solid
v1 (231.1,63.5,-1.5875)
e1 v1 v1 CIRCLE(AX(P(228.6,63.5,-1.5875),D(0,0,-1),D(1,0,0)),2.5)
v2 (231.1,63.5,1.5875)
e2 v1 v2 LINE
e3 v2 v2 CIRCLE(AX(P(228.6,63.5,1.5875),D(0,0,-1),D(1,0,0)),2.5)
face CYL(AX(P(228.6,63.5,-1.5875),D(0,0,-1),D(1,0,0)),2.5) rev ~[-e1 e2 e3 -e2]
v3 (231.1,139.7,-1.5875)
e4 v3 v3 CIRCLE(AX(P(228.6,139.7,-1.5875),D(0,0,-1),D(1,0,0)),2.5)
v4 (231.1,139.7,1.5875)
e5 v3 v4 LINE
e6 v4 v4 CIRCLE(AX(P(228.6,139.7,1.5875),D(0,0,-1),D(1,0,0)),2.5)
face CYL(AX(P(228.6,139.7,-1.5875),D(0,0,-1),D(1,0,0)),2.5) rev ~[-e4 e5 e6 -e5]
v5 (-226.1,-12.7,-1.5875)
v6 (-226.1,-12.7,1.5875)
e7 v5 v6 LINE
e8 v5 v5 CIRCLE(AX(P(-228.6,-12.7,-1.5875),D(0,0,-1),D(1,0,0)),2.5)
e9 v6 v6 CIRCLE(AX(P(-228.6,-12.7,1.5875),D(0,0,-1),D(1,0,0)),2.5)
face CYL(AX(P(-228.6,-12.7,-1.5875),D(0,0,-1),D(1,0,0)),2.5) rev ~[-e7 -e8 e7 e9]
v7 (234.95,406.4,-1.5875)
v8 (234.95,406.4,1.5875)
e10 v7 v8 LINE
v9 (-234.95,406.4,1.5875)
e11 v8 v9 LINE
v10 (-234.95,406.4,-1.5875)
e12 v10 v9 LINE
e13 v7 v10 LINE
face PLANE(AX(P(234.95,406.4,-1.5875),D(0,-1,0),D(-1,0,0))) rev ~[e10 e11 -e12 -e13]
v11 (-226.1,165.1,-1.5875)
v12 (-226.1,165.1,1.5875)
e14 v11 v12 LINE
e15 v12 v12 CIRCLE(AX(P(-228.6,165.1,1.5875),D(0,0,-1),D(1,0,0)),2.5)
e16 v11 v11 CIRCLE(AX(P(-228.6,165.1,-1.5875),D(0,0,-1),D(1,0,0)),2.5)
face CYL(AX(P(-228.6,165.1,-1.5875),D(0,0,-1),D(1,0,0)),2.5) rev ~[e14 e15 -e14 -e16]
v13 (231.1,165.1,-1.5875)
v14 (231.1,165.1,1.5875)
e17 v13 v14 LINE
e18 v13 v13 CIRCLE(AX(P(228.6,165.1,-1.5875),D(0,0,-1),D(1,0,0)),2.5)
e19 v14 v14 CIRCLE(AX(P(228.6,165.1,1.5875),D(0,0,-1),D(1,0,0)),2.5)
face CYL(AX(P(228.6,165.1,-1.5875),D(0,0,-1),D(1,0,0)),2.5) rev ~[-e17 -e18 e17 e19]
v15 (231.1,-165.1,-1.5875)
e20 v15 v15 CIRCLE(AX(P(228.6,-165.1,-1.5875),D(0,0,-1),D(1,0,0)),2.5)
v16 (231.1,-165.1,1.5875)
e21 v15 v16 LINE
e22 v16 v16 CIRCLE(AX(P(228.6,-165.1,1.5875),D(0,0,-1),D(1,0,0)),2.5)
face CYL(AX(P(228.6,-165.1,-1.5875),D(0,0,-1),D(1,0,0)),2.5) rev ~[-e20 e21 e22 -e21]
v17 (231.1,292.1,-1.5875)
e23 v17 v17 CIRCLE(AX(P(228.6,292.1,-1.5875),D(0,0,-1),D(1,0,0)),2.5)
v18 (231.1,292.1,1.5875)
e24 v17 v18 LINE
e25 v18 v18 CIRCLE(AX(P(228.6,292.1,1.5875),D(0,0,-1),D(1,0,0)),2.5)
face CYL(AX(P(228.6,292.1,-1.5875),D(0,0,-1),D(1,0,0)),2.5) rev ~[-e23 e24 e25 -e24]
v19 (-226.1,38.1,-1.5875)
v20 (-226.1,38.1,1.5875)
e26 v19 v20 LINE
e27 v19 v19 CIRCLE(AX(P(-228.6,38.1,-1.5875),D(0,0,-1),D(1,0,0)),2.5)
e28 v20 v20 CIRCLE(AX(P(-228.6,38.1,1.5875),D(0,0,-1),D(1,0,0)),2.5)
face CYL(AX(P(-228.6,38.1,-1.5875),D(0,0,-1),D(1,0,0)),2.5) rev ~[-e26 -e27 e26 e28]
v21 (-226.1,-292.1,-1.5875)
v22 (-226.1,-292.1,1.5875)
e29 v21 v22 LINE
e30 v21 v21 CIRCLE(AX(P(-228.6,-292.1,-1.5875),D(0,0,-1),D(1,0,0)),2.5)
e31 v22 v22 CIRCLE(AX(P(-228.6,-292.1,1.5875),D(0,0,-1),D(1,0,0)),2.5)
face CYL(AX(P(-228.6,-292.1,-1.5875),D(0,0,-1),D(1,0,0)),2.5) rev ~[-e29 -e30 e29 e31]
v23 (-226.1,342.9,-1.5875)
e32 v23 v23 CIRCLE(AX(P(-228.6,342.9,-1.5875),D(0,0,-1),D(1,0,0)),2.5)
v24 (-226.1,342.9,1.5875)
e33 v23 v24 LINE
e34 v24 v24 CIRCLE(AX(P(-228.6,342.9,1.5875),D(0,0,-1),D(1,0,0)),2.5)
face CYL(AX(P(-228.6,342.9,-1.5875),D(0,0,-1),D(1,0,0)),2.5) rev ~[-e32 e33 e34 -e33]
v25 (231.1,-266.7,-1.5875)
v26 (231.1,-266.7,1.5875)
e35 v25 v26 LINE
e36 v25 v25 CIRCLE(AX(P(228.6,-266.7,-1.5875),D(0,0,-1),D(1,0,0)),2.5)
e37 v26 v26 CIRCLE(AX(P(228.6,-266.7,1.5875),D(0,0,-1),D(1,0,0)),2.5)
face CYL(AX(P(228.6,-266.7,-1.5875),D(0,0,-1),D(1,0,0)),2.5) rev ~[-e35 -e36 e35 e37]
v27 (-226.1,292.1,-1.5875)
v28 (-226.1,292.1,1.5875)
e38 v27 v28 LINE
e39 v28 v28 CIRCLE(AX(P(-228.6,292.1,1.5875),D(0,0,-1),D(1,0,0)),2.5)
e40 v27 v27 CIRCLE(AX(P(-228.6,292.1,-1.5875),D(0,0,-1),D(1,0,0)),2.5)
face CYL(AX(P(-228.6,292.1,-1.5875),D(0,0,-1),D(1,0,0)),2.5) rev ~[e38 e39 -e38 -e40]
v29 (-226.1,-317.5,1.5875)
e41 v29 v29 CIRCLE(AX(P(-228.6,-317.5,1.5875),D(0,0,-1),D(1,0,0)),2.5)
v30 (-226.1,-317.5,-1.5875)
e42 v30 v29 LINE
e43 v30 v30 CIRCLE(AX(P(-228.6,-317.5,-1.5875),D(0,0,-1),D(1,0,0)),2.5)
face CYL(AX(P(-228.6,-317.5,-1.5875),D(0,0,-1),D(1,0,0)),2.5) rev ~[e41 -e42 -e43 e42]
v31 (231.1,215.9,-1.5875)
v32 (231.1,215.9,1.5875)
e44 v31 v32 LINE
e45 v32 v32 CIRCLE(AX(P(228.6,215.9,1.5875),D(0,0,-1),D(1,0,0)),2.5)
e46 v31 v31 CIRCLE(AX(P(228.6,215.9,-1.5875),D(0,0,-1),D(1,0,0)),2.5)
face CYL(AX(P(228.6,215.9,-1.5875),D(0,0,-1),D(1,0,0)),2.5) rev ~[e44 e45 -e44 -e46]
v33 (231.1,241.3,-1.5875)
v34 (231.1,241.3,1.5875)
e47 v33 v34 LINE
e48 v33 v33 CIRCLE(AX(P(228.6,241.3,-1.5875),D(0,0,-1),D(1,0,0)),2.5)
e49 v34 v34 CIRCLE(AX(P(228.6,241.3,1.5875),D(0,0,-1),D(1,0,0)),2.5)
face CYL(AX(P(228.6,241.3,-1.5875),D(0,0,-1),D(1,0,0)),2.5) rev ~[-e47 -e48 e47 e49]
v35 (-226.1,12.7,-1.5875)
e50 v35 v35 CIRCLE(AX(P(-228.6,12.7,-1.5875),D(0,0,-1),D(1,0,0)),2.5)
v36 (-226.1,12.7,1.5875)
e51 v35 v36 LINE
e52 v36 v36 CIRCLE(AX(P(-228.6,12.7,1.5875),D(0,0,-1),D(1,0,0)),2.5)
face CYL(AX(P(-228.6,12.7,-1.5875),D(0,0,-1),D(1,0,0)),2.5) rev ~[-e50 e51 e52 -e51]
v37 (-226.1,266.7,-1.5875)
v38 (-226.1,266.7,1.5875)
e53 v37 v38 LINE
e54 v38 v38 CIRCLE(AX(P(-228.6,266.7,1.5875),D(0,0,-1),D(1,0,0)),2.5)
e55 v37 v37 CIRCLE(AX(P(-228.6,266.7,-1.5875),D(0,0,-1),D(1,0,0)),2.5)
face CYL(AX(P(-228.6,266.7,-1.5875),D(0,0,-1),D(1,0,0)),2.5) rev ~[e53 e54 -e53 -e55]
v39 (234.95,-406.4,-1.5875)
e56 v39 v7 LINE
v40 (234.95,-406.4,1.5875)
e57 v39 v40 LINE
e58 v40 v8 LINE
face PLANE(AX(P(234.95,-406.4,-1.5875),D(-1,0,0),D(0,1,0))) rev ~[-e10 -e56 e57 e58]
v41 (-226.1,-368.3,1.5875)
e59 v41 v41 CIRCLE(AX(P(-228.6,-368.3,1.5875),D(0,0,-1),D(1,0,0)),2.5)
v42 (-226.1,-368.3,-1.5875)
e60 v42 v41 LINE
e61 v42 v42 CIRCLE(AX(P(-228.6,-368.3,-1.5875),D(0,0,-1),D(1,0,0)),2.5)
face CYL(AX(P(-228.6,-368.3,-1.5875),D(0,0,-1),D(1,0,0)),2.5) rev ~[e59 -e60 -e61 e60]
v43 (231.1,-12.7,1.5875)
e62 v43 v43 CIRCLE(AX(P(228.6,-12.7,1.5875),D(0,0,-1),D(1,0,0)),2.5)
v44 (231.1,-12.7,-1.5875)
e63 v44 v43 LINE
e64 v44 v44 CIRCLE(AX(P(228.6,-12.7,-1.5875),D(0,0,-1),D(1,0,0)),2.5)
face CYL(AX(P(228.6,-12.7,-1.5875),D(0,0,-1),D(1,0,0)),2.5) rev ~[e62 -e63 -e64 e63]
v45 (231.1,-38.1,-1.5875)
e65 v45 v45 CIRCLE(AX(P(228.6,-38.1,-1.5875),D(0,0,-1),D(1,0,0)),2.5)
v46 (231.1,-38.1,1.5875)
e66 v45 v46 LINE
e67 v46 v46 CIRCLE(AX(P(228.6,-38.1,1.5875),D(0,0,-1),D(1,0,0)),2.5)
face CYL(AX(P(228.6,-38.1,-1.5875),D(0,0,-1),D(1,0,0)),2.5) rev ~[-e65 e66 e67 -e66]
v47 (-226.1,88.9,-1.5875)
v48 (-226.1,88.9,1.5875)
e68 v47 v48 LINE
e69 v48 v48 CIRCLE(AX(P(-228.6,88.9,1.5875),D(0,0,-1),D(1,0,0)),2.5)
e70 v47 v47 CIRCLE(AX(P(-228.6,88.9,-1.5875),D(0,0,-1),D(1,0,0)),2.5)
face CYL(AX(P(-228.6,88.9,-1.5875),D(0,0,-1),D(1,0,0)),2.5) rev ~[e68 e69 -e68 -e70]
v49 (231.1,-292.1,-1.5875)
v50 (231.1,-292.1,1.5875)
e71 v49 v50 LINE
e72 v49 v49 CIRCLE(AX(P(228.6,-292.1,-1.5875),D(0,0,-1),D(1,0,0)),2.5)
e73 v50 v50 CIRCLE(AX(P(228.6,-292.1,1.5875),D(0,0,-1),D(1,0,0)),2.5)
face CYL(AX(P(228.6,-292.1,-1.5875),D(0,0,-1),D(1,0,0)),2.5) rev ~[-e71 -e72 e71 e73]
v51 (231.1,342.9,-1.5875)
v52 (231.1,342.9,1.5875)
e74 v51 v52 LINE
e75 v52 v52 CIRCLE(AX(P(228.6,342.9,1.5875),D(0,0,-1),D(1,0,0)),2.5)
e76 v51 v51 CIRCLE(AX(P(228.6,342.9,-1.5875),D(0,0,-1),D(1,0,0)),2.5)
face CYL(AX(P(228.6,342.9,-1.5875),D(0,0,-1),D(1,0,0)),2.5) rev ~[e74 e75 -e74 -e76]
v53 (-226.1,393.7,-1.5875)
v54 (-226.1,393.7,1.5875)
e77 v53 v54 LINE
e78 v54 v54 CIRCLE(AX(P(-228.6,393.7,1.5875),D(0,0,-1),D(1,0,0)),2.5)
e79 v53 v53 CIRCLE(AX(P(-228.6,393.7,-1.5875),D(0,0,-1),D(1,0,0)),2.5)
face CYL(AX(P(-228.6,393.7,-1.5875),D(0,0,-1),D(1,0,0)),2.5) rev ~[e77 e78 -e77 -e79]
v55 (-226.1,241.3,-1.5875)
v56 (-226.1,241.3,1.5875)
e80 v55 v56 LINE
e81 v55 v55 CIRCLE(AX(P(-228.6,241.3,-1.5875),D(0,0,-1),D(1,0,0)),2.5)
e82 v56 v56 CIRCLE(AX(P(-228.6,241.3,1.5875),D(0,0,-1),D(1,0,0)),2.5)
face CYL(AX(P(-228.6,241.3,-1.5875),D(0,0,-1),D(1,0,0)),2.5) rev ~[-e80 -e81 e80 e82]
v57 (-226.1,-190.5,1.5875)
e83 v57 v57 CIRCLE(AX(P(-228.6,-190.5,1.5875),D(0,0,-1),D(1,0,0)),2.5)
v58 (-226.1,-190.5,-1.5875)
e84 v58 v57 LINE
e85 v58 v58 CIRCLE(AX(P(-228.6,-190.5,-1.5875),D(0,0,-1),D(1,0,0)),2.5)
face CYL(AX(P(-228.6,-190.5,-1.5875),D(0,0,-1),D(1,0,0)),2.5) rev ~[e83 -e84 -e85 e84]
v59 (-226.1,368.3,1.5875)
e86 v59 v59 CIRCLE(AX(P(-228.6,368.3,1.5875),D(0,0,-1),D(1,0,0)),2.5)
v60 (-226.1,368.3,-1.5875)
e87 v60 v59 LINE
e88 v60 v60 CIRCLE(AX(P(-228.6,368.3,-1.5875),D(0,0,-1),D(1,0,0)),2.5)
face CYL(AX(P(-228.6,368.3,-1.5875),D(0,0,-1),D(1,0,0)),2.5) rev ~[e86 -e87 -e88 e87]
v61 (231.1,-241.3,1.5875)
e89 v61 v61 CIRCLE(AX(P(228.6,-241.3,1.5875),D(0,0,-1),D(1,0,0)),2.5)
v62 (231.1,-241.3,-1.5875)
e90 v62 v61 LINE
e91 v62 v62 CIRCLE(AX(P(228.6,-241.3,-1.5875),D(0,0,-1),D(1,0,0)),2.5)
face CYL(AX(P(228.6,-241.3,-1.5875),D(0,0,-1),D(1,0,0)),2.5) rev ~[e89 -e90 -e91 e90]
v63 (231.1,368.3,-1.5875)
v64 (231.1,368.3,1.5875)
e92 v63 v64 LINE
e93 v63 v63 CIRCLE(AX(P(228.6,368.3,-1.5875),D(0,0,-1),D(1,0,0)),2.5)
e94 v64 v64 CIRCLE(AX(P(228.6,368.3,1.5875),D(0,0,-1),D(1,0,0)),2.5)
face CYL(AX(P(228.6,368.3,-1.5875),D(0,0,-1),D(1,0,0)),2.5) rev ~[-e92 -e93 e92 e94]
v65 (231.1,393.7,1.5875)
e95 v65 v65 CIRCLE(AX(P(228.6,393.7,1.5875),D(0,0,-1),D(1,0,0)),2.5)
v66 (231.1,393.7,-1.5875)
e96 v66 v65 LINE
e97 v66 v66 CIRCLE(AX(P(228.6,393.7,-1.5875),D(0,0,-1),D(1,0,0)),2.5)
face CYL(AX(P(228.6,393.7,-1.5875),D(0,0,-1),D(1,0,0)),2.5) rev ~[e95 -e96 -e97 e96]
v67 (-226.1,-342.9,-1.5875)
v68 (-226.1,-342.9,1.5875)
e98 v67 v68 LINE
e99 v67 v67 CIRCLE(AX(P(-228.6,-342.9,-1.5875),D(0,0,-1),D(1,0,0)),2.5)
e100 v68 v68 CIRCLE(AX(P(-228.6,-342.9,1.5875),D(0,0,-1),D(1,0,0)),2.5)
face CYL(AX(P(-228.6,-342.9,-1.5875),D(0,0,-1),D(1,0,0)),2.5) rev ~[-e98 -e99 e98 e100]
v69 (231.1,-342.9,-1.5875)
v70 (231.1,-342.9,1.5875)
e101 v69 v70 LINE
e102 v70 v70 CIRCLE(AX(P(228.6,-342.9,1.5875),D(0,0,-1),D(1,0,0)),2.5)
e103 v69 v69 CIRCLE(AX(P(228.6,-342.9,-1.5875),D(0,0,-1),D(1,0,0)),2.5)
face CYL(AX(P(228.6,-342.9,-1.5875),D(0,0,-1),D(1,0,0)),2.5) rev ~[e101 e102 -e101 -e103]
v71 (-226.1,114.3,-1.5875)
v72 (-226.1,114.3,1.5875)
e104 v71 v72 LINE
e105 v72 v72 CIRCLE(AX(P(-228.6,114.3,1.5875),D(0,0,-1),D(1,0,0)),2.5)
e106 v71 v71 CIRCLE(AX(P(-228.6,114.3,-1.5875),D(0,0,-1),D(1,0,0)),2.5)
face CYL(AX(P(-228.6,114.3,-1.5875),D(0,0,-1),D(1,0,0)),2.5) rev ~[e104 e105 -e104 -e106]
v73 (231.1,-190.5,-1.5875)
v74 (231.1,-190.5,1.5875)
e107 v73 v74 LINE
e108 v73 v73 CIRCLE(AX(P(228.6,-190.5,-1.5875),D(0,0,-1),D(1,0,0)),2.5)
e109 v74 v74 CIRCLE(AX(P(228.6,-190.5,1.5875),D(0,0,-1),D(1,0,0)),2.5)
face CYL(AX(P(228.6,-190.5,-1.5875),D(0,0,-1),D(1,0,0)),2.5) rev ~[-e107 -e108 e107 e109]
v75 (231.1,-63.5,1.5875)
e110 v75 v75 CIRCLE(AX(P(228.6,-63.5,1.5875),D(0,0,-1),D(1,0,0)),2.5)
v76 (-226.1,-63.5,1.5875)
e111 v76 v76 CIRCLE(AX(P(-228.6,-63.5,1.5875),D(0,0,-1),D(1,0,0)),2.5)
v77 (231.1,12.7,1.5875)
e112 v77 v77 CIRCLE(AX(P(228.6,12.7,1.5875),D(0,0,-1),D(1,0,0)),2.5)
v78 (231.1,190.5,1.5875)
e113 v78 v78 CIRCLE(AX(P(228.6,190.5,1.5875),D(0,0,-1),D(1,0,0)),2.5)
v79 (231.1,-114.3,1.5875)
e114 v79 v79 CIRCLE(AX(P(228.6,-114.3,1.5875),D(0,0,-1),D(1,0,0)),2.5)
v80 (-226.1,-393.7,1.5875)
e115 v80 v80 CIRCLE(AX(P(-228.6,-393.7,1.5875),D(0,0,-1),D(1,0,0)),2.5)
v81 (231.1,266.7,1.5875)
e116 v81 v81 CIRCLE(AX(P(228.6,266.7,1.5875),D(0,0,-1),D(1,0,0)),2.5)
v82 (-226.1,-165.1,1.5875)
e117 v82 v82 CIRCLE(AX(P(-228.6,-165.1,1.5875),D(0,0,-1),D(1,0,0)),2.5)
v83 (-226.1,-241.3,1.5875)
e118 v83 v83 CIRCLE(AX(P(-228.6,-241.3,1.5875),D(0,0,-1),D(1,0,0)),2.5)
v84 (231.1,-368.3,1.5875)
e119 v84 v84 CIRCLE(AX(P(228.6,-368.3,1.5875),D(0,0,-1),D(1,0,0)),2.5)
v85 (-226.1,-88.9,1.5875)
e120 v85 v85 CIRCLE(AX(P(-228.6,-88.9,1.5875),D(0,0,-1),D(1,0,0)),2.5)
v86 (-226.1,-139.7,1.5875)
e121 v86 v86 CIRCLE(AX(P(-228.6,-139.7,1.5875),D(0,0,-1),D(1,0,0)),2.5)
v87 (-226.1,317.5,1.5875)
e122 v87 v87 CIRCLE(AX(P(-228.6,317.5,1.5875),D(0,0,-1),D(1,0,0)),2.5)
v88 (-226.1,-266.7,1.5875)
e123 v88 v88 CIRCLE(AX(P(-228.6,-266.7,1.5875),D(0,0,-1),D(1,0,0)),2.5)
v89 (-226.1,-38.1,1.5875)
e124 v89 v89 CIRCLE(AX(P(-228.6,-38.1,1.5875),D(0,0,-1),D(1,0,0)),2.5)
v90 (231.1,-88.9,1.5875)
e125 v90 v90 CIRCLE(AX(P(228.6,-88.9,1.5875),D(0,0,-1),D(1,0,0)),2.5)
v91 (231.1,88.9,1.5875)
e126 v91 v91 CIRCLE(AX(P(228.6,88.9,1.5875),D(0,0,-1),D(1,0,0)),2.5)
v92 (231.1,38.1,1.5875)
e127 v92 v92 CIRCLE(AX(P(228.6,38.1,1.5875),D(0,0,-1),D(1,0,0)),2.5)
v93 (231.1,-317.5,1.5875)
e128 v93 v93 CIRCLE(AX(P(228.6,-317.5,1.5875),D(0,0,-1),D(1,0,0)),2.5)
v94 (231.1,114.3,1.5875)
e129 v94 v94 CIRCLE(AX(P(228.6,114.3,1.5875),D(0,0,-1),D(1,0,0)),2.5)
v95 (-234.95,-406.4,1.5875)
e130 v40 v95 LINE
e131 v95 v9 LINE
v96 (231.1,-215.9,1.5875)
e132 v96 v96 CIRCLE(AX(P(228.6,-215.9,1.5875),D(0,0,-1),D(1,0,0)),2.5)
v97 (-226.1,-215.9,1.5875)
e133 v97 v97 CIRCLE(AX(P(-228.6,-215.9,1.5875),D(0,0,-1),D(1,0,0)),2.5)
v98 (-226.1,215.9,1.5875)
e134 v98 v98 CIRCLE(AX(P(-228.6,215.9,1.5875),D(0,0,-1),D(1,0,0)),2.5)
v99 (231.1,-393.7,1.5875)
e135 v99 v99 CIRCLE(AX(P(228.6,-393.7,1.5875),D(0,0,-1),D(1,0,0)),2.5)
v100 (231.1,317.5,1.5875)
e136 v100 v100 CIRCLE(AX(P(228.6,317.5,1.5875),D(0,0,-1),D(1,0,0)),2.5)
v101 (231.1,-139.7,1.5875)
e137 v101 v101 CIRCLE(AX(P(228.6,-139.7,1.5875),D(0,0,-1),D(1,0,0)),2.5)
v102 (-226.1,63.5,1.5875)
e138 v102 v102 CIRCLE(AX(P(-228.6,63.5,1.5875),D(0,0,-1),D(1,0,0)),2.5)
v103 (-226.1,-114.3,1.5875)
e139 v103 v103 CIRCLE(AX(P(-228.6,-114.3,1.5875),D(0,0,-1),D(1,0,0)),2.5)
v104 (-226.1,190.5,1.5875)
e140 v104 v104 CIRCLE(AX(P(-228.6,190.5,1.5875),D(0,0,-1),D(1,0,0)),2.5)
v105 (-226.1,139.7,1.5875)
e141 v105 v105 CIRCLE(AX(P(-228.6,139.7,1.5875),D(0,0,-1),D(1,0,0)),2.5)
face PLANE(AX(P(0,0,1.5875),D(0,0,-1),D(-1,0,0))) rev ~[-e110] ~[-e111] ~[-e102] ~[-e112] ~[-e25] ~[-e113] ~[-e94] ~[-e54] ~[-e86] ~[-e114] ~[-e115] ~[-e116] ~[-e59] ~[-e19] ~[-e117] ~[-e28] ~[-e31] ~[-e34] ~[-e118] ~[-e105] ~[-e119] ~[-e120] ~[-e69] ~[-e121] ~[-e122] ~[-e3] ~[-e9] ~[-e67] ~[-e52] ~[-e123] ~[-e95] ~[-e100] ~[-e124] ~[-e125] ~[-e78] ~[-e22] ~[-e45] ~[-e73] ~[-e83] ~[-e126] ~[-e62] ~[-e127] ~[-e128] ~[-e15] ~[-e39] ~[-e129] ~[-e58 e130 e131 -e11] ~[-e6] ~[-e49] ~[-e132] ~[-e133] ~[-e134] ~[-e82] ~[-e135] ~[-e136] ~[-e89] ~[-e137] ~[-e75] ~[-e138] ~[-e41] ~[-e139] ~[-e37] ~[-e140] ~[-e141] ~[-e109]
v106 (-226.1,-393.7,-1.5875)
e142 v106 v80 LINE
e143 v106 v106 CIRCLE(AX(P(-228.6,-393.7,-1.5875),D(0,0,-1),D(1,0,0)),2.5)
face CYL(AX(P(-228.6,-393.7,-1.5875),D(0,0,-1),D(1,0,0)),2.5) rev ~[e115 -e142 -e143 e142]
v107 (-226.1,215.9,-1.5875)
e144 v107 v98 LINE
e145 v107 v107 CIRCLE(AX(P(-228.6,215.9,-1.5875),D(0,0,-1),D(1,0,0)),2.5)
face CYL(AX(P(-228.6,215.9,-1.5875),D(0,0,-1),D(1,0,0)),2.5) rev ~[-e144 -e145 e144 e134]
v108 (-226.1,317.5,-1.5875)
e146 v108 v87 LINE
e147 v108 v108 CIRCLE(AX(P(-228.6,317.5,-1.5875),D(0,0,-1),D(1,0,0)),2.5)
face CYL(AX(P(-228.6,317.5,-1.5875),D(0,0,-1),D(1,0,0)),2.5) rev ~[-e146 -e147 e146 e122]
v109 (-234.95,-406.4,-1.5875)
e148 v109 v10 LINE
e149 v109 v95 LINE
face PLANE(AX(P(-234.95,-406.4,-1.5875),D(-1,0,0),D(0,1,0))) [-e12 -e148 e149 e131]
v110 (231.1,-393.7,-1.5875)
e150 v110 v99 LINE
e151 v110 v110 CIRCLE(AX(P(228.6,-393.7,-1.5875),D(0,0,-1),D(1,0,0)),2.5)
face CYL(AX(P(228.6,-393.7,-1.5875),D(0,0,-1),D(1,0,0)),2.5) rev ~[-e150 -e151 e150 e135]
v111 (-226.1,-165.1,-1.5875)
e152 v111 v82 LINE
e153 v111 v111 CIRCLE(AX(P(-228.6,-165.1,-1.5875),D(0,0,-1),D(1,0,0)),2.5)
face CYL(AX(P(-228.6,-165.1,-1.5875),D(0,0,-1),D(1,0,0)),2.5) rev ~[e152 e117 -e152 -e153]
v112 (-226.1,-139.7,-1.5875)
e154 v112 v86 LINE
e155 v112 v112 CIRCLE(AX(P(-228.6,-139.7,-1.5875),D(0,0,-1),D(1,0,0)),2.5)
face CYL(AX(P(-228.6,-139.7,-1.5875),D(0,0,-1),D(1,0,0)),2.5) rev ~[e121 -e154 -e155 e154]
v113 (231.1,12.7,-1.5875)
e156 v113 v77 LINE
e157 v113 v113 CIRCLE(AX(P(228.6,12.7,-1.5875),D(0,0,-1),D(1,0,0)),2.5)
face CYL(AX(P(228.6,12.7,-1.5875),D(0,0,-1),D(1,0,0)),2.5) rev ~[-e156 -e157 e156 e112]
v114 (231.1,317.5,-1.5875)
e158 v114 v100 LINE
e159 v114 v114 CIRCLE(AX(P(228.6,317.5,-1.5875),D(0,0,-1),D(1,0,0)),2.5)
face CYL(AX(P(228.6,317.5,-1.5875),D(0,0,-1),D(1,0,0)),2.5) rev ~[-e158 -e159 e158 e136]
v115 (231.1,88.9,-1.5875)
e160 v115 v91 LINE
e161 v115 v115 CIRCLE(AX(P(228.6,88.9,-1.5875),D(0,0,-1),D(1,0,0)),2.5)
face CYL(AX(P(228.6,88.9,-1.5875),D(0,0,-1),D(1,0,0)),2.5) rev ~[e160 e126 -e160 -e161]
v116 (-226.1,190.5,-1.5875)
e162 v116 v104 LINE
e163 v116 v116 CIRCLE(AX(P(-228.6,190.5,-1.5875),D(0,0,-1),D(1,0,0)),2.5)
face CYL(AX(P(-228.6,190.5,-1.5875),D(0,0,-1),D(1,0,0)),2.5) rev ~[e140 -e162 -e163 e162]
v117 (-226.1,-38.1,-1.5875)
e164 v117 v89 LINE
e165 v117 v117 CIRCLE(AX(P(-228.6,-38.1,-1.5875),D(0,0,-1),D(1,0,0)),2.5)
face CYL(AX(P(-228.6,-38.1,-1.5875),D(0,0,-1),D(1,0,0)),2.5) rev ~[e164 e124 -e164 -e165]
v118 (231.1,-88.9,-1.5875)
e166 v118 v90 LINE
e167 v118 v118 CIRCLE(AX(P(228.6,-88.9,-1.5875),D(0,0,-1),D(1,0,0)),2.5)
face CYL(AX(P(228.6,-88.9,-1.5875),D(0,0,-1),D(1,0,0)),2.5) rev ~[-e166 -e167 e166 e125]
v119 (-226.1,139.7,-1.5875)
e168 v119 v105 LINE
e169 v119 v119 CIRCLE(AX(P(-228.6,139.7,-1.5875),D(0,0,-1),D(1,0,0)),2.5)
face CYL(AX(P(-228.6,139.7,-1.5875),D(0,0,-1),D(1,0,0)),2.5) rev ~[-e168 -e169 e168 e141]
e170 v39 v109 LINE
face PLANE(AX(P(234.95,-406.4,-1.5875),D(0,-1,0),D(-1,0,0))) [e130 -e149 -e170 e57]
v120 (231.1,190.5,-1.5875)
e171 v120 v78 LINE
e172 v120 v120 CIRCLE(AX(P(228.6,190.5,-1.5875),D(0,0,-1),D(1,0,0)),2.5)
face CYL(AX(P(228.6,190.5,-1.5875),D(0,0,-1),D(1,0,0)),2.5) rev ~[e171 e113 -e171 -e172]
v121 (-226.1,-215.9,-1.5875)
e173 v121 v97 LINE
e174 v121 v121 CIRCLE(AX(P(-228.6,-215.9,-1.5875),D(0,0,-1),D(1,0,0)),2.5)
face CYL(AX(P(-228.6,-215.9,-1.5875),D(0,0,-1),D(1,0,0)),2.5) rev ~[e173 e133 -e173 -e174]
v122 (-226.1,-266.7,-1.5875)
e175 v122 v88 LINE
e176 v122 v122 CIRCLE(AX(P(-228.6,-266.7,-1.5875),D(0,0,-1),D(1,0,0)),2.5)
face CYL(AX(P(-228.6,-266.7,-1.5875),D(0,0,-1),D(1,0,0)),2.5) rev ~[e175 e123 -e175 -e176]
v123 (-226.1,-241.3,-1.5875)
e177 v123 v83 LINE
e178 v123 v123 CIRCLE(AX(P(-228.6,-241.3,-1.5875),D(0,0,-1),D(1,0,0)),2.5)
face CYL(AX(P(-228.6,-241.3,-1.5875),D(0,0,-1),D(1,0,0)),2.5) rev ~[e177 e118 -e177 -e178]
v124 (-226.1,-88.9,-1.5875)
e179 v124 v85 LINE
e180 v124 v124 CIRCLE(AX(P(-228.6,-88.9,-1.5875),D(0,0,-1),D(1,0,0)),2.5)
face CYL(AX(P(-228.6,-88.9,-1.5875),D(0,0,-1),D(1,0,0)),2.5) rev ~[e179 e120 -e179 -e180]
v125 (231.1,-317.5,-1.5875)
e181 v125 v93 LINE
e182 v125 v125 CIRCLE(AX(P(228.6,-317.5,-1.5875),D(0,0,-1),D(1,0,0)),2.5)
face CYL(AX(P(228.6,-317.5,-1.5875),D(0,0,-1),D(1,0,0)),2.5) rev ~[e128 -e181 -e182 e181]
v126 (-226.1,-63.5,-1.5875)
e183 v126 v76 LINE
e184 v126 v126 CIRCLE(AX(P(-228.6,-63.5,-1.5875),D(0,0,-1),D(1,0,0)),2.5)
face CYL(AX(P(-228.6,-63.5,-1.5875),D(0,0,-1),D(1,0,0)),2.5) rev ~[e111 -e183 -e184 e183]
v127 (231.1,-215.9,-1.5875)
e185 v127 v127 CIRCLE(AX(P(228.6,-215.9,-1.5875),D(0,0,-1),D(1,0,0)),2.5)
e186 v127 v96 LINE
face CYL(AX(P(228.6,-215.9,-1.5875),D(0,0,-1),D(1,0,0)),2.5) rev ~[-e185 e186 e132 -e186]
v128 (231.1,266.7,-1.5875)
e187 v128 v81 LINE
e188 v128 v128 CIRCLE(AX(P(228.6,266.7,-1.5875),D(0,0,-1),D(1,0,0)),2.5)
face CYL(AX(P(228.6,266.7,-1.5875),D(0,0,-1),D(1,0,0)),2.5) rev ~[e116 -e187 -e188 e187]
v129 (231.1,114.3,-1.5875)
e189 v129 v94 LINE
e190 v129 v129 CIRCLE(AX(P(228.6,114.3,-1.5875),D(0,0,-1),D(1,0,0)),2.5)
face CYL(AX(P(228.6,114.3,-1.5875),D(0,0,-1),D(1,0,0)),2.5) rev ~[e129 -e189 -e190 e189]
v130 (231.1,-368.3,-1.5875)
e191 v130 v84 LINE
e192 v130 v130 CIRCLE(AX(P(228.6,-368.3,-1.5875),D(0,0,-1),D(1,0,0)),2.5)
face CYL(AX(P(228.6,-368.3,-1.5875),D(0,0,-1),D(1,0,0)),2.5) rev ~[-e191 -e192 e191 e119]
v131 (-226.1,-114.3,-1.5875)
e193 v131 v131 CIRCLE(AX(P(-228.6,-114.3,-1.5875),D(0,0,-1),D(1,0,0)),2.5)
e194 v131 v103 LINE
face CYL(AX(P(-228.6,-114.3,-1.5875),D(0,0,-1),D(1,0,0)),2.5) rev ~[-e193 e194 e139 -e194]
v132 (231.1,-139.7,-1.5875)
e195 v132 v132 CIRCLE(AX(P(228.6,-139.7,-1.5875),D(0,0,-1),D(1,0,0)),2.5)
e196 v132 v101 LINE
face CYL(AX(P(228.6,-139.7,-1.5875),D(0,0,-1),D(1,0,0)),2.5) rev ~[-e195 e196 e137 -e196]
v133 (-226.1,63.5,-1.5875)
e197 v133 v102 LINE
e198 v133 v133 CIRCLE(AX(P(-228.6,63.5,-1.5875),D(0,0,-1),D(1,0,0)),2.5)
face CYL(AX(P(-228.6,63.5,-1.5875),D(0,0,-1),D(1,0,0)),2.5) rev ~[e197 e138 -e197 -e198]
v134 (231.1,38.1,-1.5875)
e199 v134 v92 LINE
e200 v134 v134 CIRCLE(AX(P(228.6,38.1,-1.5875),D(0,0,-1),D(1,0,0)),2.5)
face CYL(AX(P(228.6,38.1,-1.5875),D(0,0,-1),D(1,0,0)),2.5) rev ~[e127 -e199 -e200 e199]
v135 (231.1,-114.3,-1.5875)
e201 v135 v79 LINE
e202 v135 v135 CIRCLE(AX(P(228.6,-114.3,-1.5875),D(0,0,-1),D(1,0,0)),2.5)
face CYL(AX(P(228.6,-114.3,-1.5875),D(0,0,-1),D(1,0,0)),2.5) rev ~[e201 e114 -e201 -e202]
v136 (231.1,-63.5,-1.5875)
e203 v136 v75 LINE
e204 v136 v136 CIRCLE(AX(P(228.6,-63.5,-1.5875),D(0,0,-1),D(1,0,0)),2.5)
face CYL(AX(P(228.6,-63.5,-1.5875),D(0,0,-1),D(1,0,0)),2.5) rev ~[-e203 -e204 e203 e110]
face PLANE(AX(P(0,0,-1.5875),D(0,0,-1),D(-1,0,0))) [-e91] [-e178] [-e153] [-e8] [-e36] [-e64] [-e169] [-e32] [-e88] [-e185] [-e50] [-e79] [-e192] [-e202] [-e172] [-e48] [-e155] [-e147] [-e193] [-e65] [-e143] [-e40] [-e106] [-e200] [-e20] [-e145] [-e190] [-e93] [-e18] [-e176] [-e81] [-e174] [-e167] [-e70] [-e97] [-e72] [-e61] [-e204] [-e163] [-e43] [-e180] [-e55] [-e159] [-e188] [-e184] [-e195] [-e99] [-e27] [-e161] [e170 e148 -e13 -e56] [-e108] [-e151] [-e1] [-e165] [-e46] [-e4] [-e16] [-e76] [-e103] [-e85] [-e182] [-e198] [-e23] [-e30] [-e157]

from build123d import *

# Parameters (mm, degrees)
SKETCH1_W           = 469.9
SKETCH1_H           = 812.8
SKETCH1_R           = 2.5
BOSS_EXTRUDE1_DEPTH = 3.175


with BuildPart() as part:
    # Sketch1 → Boss-Extrude1 (new body)
    with BuildSketch(Plane(origin=(0, 0, -1.5875), x_dir=(-1, 0, 0), z_dir=(0, 0, -1))):
        Rectangle(SKETCH1_W, SKETCH1_H)
        with Locations(Location((-228.6, 393.7, 0), (0, 0, 180))):
            Circle(SKETCH1_R, mode=Mode.SUBTRACT)
        with Locations(Location((-228.6, 368.3, 0), (0, 0, 180))):
            Circle(SKETCH1_R, mode=Mode.SUBTRACT)
        with Locations(Location((-228.6, 342.9, 0), (0, 0, 180))):
            Circle(SKETCH1_R, mode=Mode.SUBTRACT)
        with Locations(Location((-228.6, 317.5, 0), (0, 0, 180))):
            Circle(SKETCH1_R, mode=Mode.SUBTRACT)
        with Locations(Location((-228.6, 292.1, 0), (0, 0, 180))):
            Circle(SKETCH1_R, mode=Mode.SUBTRACT)
        with Locations(Location((-228.6, 266.7, 0), (0, 0, 180))):
            Circle(SKETCH1_R, mode=Mode.SUBTRACT)
        with Locations(Location((-228.6, 241.3, 0), (0, 0, 180))):
            Circle(SKETCH1_R, mode=Mode.SUBTRACT)
        with Locations(Location((-228.6, 215.9, 0), (0, 0, 180))):
            Circle(SKETCH1_R, mode=Mode.SUBTRACT)
        with Locations(Location((-228.6, 190.5, 0), (0, 0, 180))):
            Circle(SKETCH1_R, mode=Mode.SUBTRACT)
        with Locations(Location((-228.6, 165.1, 0), (0, 0, 180))):
            Circle(SKETCH1_R, mode=Mode.SUBTRACT)
        with Locations(Location((-228.6, 139.7, 0), (0, 0, 180))):
            Circle(SKETCH1_R, mode=Mode.SUBTRACT)
        with Locations(Location((-228.6, 114.3, 0), (0, 0, 180))):
            Circle(SKETCH1_R, mode=Mode.SUBTRACT)
        with Locations(Location((-228.6, 88.9, 0), (0, 0, 180))):
            Circle(SKETCH1_R, mode=Mode.SUBTRACT)
        with Locations(Location((-228.6, 63.5, 0), (0, 0, 180))):
            Circle(SKETCH1_R, mode=Mode.SUBTRACT)
        with Locations(Location((-228.6, 38.1, 0), (0, 0, 180))):
            Circle(SKETCH1_R, mode=Mode.SUBTRACT)
        with Locations(Location((-228.6, 12.7, 0), (0, 0, 180))):
            Circle(SKETCH1_R, mode=Mode.SUBTRACT)
        with Locations(Location((-228.6, -12.7, 0), (0, 0, 180))):
            Circle(SKETCH1_R, mode=Mode.SUBTRACT)
        with Locations(Location((-228.6, -38.1, 0), (0, 0, 180))):
            Circle(SKETCH1_R, mode=Mode.SUBTRACT)
        with Locations(Location((-228.6, -63.5, 0), (0, 0, 180))):
            Circle(SKETCH1_R, mode=Mode.SUBTRACT)
        with Locations(Location((-228.6, -88.9, 0), (0, 0, 180))):
            Circle(SKETCH1_R, mode=Mode.SUBTRACT)
        with Locations(Location((-228.6, -114.3, 0), (0, 0, 180))):
            Circle(SKETCH1_R, mode=Mode.SUBTRACT)
        with Locations(Location((-228.6, -139.7, 0), (0, 0, 180))):
            Circle(SKETCH1_R, mode=Mode.SUBTRACT)
        with Locations(Location((-228.6, -165.1, 0), (0, 0, 180))):
            Circle(SKETCH1_R, mode=Mode.SUBTRACT)
        with Locations(Location((-228.6, -190.5, 0), (0, 0, 180))):
            Circle(SKETCH1_R, mode=Mode.SUBTRACT)
        with Locations(Location((-228.6, -215.9, 0), (0, 0, 180))):
            Circle(SKETCH1_R, mode=Mode.SUBTRACT)
        with Locations(Location((-228.6, -241.3, 0), (0, 0, 180))):
            Circle(SKETCH1_R, mode=Mode.SUBTRACT)
        with Locations(Location((-228.6, -266.7, 0), (0, 0, 180))):
            Circle(SKETCH1_R, mode=Mode.SUBTRACT)
        with Locations(Location((-228.6, -292.1, 0), (0, 0, 180))):
            Circle(SKETCH1_R, mode=Mode.SUBTRACT)
        with Locations(Location((-228.6, -317.5, 0), (0, 0, 180))):
            Circle(SKETCH1_R, mode=Mode.SUBTRACT)
        with Locations(Location((-228.6, -342.9, 0), (0, 0, 180))):
            Circle(SKETCH1_R, mode=Mode.SUBTRACT)
        with Locations(Location((-228.6, -368.3, 0), (0, 0, 180))):
            Circle(SKETCH1_R, mode=Mode.SUBTRACT)
        with Locations(Location((-228.6, -393.7, 0), (0, 0, 180))):
            Circle(SKETCH1_R, mode=Mode.SUBTRACT)
        with Locations(Location((228.6, 393.7, 0), (0, 0, 180))):
            Circle(SKETCH1_R, mode=Mode.SUBTRACT)
        with Locations(Location((228.6, 368.3, 0), (0, 0, 180))):
            Circle(SKETCH1_R, mode=Mode.SUBTRACT)
        with Locations(Location((228.6, 342.9, 0), (0, 0, 180))):
            Circle(SKETCH1_R, mode=Mode.SUBTRACT)
        with Locations(Location((228.6, 317.5, 0), (0, 0, 180))):
            Circle(SKETCH1_R, mode=Mode.SUBTRACT)
        with Locations(Location((228.6, 292.1, 0), (0, 0, 180))):
            Circle(SKETCH1_R, mode=Mode.SUBTRACT)
        with Locations(Location((228.6, 266.7, 0), (0, 0, 180))):
            Circle(SKETCH1_R, mode=Mode.SUBTRACT)
        with Locations(Location((228.6, 241.3, 0), (0, 0, 180))):
            Circle(SKETCH1_R, mode=Mode.SUBTRACT)
        with Locations(Location((228.6, 215.9, 0), (0, 0, 180))):
            Circle(SKETCH1_R, mode=Mode.SUBTRACT)
        with Locations(Location((228.6, 190.5, 0), (0, 0, 180))):
            Circle(SKETCH1_R, mode=Mode.SUBTRACT)
        with Locations(Location((228.6, 165.1, 0), (0, 0, 180))):
            Circle(SKETCH1_R, mode=Mode.SUBTRACT)
        with Locations(Location((228.6, 139.7, 0), (0, 0, 180))):
            Circle(SKETCH1_R, mode=Mode.SUBTRACT)
        with Locations(Location((228.6, 114.3, 0), (0, 0, 180))):
            Circle(SKETCH1_R, mode=Mode.SUBTRACT)
        with Locations(Location((228.6, 88.9, 0), (0, 0, 180))):
            Circle(SKETCH1_R, mode=Mode.SUBTRACT)
        with Locations(Location((228.6, 63.5, 0), (0, 0, 180))):
            Circle(SKETCH1_R, mode=Mode.SUBTRACT)
        with Locations(Location((228.6, 38.1, 0), (0, 0, 180))):
            Circle(SKETCH1_R, mode=Mode.SUBTRACT)
        with Locations(Location((228.6, 12.7, 0), (0, 0, 180))):
            Circle(SKETCH1_R, mode=Mode.SUBTRACT)
        with Locations(Location((228.6, -12.7, 0), (0, 0, 180))):
            Circle(SKETCH1_R, mode=Mode.SUBTRACT)
        with Locations(Location((228.6, -38.1, 0), (0, 0, 180))):
            Circle(SKETCH1_R, mode=Mode.SUBTRACT)
        with Locations(Location((228.6, -63.5, 0), (0, 0, 180))):
            Circle(SKETCH1_R, mode=Mode.SUBTRACT)
        with Locations(Location((228.6, -88.9, 0), (0, 0, 180))):
            Circle(SKETCH1_R, mode=Mode.SUBTRACT)
        with Locations(Location((228.6, -114.3, 0), (0, 0, 180))):
            Circle(SKETCH1_R, mode=Mode.SUBTRACT)
        with Locations(Location((228.6, -139.7, 0), (0, 0, 180))):
            Circle(SKETCH1_R, mode=Mode.SUBTRACT)
        with Locations(Location((228.6, -165.1, 0), (0, 0, 180))):
            Circle(SKETCH1_R, mode=Mode.SUBTRACT)
        with Locations(Location((228.6, -190.5, 0), (0, 0, 180))):
            Circle(SKETCH1_R, mode=Mode.SUBTRACT)
        with Locations(Location((228.6, -215.9, 0), (0, 0, 180))):
            Circle(SKETCH1_R, mode=Mode.SUBTRACT)
        with Locations(Location((228.6, -241.3, 0), (0, 0, 180))):
            Circle(SKETCH1_R, mode=Mode.SUBTRACT)
        with Locations(Location((228.6, -266.7, 0), (0, 0, 180))):
            Circle(SKETCH1_R, mode=Mode.SUBTRACT)
        with Locations(Location((228.6, -292.1, 0), (0, 0, 180))):
            Circle(SKETCH1_R, mode=Mode.SUBTRACT)
        with Locations(Location((228.6, -317.5, 0), (0, 0, 180))):
            Circle(SKETCH1_R, mode=Mode.SUBTRACT)
        with Locations(Location((228.6, -342.9, 0), (0, 0, 180))):
            Circle(SKETCH1_R, mode=Mode.SUBTRACT)
        with Locations(Location((228.6, -368.3, 0), (0, 0, 180))):
            Circle(SKETCH1_R, mode=Mode.SUBTRACT)
        with Locations(Location((228.6, -393.7, 0), (0, 0, 180))):
            Circle(SKETCH1_R, mode=Mode.SUBTRACT)
    extrude(amount=-BOSS_EXTRUDE1_DEPTH)


solid = part.part
